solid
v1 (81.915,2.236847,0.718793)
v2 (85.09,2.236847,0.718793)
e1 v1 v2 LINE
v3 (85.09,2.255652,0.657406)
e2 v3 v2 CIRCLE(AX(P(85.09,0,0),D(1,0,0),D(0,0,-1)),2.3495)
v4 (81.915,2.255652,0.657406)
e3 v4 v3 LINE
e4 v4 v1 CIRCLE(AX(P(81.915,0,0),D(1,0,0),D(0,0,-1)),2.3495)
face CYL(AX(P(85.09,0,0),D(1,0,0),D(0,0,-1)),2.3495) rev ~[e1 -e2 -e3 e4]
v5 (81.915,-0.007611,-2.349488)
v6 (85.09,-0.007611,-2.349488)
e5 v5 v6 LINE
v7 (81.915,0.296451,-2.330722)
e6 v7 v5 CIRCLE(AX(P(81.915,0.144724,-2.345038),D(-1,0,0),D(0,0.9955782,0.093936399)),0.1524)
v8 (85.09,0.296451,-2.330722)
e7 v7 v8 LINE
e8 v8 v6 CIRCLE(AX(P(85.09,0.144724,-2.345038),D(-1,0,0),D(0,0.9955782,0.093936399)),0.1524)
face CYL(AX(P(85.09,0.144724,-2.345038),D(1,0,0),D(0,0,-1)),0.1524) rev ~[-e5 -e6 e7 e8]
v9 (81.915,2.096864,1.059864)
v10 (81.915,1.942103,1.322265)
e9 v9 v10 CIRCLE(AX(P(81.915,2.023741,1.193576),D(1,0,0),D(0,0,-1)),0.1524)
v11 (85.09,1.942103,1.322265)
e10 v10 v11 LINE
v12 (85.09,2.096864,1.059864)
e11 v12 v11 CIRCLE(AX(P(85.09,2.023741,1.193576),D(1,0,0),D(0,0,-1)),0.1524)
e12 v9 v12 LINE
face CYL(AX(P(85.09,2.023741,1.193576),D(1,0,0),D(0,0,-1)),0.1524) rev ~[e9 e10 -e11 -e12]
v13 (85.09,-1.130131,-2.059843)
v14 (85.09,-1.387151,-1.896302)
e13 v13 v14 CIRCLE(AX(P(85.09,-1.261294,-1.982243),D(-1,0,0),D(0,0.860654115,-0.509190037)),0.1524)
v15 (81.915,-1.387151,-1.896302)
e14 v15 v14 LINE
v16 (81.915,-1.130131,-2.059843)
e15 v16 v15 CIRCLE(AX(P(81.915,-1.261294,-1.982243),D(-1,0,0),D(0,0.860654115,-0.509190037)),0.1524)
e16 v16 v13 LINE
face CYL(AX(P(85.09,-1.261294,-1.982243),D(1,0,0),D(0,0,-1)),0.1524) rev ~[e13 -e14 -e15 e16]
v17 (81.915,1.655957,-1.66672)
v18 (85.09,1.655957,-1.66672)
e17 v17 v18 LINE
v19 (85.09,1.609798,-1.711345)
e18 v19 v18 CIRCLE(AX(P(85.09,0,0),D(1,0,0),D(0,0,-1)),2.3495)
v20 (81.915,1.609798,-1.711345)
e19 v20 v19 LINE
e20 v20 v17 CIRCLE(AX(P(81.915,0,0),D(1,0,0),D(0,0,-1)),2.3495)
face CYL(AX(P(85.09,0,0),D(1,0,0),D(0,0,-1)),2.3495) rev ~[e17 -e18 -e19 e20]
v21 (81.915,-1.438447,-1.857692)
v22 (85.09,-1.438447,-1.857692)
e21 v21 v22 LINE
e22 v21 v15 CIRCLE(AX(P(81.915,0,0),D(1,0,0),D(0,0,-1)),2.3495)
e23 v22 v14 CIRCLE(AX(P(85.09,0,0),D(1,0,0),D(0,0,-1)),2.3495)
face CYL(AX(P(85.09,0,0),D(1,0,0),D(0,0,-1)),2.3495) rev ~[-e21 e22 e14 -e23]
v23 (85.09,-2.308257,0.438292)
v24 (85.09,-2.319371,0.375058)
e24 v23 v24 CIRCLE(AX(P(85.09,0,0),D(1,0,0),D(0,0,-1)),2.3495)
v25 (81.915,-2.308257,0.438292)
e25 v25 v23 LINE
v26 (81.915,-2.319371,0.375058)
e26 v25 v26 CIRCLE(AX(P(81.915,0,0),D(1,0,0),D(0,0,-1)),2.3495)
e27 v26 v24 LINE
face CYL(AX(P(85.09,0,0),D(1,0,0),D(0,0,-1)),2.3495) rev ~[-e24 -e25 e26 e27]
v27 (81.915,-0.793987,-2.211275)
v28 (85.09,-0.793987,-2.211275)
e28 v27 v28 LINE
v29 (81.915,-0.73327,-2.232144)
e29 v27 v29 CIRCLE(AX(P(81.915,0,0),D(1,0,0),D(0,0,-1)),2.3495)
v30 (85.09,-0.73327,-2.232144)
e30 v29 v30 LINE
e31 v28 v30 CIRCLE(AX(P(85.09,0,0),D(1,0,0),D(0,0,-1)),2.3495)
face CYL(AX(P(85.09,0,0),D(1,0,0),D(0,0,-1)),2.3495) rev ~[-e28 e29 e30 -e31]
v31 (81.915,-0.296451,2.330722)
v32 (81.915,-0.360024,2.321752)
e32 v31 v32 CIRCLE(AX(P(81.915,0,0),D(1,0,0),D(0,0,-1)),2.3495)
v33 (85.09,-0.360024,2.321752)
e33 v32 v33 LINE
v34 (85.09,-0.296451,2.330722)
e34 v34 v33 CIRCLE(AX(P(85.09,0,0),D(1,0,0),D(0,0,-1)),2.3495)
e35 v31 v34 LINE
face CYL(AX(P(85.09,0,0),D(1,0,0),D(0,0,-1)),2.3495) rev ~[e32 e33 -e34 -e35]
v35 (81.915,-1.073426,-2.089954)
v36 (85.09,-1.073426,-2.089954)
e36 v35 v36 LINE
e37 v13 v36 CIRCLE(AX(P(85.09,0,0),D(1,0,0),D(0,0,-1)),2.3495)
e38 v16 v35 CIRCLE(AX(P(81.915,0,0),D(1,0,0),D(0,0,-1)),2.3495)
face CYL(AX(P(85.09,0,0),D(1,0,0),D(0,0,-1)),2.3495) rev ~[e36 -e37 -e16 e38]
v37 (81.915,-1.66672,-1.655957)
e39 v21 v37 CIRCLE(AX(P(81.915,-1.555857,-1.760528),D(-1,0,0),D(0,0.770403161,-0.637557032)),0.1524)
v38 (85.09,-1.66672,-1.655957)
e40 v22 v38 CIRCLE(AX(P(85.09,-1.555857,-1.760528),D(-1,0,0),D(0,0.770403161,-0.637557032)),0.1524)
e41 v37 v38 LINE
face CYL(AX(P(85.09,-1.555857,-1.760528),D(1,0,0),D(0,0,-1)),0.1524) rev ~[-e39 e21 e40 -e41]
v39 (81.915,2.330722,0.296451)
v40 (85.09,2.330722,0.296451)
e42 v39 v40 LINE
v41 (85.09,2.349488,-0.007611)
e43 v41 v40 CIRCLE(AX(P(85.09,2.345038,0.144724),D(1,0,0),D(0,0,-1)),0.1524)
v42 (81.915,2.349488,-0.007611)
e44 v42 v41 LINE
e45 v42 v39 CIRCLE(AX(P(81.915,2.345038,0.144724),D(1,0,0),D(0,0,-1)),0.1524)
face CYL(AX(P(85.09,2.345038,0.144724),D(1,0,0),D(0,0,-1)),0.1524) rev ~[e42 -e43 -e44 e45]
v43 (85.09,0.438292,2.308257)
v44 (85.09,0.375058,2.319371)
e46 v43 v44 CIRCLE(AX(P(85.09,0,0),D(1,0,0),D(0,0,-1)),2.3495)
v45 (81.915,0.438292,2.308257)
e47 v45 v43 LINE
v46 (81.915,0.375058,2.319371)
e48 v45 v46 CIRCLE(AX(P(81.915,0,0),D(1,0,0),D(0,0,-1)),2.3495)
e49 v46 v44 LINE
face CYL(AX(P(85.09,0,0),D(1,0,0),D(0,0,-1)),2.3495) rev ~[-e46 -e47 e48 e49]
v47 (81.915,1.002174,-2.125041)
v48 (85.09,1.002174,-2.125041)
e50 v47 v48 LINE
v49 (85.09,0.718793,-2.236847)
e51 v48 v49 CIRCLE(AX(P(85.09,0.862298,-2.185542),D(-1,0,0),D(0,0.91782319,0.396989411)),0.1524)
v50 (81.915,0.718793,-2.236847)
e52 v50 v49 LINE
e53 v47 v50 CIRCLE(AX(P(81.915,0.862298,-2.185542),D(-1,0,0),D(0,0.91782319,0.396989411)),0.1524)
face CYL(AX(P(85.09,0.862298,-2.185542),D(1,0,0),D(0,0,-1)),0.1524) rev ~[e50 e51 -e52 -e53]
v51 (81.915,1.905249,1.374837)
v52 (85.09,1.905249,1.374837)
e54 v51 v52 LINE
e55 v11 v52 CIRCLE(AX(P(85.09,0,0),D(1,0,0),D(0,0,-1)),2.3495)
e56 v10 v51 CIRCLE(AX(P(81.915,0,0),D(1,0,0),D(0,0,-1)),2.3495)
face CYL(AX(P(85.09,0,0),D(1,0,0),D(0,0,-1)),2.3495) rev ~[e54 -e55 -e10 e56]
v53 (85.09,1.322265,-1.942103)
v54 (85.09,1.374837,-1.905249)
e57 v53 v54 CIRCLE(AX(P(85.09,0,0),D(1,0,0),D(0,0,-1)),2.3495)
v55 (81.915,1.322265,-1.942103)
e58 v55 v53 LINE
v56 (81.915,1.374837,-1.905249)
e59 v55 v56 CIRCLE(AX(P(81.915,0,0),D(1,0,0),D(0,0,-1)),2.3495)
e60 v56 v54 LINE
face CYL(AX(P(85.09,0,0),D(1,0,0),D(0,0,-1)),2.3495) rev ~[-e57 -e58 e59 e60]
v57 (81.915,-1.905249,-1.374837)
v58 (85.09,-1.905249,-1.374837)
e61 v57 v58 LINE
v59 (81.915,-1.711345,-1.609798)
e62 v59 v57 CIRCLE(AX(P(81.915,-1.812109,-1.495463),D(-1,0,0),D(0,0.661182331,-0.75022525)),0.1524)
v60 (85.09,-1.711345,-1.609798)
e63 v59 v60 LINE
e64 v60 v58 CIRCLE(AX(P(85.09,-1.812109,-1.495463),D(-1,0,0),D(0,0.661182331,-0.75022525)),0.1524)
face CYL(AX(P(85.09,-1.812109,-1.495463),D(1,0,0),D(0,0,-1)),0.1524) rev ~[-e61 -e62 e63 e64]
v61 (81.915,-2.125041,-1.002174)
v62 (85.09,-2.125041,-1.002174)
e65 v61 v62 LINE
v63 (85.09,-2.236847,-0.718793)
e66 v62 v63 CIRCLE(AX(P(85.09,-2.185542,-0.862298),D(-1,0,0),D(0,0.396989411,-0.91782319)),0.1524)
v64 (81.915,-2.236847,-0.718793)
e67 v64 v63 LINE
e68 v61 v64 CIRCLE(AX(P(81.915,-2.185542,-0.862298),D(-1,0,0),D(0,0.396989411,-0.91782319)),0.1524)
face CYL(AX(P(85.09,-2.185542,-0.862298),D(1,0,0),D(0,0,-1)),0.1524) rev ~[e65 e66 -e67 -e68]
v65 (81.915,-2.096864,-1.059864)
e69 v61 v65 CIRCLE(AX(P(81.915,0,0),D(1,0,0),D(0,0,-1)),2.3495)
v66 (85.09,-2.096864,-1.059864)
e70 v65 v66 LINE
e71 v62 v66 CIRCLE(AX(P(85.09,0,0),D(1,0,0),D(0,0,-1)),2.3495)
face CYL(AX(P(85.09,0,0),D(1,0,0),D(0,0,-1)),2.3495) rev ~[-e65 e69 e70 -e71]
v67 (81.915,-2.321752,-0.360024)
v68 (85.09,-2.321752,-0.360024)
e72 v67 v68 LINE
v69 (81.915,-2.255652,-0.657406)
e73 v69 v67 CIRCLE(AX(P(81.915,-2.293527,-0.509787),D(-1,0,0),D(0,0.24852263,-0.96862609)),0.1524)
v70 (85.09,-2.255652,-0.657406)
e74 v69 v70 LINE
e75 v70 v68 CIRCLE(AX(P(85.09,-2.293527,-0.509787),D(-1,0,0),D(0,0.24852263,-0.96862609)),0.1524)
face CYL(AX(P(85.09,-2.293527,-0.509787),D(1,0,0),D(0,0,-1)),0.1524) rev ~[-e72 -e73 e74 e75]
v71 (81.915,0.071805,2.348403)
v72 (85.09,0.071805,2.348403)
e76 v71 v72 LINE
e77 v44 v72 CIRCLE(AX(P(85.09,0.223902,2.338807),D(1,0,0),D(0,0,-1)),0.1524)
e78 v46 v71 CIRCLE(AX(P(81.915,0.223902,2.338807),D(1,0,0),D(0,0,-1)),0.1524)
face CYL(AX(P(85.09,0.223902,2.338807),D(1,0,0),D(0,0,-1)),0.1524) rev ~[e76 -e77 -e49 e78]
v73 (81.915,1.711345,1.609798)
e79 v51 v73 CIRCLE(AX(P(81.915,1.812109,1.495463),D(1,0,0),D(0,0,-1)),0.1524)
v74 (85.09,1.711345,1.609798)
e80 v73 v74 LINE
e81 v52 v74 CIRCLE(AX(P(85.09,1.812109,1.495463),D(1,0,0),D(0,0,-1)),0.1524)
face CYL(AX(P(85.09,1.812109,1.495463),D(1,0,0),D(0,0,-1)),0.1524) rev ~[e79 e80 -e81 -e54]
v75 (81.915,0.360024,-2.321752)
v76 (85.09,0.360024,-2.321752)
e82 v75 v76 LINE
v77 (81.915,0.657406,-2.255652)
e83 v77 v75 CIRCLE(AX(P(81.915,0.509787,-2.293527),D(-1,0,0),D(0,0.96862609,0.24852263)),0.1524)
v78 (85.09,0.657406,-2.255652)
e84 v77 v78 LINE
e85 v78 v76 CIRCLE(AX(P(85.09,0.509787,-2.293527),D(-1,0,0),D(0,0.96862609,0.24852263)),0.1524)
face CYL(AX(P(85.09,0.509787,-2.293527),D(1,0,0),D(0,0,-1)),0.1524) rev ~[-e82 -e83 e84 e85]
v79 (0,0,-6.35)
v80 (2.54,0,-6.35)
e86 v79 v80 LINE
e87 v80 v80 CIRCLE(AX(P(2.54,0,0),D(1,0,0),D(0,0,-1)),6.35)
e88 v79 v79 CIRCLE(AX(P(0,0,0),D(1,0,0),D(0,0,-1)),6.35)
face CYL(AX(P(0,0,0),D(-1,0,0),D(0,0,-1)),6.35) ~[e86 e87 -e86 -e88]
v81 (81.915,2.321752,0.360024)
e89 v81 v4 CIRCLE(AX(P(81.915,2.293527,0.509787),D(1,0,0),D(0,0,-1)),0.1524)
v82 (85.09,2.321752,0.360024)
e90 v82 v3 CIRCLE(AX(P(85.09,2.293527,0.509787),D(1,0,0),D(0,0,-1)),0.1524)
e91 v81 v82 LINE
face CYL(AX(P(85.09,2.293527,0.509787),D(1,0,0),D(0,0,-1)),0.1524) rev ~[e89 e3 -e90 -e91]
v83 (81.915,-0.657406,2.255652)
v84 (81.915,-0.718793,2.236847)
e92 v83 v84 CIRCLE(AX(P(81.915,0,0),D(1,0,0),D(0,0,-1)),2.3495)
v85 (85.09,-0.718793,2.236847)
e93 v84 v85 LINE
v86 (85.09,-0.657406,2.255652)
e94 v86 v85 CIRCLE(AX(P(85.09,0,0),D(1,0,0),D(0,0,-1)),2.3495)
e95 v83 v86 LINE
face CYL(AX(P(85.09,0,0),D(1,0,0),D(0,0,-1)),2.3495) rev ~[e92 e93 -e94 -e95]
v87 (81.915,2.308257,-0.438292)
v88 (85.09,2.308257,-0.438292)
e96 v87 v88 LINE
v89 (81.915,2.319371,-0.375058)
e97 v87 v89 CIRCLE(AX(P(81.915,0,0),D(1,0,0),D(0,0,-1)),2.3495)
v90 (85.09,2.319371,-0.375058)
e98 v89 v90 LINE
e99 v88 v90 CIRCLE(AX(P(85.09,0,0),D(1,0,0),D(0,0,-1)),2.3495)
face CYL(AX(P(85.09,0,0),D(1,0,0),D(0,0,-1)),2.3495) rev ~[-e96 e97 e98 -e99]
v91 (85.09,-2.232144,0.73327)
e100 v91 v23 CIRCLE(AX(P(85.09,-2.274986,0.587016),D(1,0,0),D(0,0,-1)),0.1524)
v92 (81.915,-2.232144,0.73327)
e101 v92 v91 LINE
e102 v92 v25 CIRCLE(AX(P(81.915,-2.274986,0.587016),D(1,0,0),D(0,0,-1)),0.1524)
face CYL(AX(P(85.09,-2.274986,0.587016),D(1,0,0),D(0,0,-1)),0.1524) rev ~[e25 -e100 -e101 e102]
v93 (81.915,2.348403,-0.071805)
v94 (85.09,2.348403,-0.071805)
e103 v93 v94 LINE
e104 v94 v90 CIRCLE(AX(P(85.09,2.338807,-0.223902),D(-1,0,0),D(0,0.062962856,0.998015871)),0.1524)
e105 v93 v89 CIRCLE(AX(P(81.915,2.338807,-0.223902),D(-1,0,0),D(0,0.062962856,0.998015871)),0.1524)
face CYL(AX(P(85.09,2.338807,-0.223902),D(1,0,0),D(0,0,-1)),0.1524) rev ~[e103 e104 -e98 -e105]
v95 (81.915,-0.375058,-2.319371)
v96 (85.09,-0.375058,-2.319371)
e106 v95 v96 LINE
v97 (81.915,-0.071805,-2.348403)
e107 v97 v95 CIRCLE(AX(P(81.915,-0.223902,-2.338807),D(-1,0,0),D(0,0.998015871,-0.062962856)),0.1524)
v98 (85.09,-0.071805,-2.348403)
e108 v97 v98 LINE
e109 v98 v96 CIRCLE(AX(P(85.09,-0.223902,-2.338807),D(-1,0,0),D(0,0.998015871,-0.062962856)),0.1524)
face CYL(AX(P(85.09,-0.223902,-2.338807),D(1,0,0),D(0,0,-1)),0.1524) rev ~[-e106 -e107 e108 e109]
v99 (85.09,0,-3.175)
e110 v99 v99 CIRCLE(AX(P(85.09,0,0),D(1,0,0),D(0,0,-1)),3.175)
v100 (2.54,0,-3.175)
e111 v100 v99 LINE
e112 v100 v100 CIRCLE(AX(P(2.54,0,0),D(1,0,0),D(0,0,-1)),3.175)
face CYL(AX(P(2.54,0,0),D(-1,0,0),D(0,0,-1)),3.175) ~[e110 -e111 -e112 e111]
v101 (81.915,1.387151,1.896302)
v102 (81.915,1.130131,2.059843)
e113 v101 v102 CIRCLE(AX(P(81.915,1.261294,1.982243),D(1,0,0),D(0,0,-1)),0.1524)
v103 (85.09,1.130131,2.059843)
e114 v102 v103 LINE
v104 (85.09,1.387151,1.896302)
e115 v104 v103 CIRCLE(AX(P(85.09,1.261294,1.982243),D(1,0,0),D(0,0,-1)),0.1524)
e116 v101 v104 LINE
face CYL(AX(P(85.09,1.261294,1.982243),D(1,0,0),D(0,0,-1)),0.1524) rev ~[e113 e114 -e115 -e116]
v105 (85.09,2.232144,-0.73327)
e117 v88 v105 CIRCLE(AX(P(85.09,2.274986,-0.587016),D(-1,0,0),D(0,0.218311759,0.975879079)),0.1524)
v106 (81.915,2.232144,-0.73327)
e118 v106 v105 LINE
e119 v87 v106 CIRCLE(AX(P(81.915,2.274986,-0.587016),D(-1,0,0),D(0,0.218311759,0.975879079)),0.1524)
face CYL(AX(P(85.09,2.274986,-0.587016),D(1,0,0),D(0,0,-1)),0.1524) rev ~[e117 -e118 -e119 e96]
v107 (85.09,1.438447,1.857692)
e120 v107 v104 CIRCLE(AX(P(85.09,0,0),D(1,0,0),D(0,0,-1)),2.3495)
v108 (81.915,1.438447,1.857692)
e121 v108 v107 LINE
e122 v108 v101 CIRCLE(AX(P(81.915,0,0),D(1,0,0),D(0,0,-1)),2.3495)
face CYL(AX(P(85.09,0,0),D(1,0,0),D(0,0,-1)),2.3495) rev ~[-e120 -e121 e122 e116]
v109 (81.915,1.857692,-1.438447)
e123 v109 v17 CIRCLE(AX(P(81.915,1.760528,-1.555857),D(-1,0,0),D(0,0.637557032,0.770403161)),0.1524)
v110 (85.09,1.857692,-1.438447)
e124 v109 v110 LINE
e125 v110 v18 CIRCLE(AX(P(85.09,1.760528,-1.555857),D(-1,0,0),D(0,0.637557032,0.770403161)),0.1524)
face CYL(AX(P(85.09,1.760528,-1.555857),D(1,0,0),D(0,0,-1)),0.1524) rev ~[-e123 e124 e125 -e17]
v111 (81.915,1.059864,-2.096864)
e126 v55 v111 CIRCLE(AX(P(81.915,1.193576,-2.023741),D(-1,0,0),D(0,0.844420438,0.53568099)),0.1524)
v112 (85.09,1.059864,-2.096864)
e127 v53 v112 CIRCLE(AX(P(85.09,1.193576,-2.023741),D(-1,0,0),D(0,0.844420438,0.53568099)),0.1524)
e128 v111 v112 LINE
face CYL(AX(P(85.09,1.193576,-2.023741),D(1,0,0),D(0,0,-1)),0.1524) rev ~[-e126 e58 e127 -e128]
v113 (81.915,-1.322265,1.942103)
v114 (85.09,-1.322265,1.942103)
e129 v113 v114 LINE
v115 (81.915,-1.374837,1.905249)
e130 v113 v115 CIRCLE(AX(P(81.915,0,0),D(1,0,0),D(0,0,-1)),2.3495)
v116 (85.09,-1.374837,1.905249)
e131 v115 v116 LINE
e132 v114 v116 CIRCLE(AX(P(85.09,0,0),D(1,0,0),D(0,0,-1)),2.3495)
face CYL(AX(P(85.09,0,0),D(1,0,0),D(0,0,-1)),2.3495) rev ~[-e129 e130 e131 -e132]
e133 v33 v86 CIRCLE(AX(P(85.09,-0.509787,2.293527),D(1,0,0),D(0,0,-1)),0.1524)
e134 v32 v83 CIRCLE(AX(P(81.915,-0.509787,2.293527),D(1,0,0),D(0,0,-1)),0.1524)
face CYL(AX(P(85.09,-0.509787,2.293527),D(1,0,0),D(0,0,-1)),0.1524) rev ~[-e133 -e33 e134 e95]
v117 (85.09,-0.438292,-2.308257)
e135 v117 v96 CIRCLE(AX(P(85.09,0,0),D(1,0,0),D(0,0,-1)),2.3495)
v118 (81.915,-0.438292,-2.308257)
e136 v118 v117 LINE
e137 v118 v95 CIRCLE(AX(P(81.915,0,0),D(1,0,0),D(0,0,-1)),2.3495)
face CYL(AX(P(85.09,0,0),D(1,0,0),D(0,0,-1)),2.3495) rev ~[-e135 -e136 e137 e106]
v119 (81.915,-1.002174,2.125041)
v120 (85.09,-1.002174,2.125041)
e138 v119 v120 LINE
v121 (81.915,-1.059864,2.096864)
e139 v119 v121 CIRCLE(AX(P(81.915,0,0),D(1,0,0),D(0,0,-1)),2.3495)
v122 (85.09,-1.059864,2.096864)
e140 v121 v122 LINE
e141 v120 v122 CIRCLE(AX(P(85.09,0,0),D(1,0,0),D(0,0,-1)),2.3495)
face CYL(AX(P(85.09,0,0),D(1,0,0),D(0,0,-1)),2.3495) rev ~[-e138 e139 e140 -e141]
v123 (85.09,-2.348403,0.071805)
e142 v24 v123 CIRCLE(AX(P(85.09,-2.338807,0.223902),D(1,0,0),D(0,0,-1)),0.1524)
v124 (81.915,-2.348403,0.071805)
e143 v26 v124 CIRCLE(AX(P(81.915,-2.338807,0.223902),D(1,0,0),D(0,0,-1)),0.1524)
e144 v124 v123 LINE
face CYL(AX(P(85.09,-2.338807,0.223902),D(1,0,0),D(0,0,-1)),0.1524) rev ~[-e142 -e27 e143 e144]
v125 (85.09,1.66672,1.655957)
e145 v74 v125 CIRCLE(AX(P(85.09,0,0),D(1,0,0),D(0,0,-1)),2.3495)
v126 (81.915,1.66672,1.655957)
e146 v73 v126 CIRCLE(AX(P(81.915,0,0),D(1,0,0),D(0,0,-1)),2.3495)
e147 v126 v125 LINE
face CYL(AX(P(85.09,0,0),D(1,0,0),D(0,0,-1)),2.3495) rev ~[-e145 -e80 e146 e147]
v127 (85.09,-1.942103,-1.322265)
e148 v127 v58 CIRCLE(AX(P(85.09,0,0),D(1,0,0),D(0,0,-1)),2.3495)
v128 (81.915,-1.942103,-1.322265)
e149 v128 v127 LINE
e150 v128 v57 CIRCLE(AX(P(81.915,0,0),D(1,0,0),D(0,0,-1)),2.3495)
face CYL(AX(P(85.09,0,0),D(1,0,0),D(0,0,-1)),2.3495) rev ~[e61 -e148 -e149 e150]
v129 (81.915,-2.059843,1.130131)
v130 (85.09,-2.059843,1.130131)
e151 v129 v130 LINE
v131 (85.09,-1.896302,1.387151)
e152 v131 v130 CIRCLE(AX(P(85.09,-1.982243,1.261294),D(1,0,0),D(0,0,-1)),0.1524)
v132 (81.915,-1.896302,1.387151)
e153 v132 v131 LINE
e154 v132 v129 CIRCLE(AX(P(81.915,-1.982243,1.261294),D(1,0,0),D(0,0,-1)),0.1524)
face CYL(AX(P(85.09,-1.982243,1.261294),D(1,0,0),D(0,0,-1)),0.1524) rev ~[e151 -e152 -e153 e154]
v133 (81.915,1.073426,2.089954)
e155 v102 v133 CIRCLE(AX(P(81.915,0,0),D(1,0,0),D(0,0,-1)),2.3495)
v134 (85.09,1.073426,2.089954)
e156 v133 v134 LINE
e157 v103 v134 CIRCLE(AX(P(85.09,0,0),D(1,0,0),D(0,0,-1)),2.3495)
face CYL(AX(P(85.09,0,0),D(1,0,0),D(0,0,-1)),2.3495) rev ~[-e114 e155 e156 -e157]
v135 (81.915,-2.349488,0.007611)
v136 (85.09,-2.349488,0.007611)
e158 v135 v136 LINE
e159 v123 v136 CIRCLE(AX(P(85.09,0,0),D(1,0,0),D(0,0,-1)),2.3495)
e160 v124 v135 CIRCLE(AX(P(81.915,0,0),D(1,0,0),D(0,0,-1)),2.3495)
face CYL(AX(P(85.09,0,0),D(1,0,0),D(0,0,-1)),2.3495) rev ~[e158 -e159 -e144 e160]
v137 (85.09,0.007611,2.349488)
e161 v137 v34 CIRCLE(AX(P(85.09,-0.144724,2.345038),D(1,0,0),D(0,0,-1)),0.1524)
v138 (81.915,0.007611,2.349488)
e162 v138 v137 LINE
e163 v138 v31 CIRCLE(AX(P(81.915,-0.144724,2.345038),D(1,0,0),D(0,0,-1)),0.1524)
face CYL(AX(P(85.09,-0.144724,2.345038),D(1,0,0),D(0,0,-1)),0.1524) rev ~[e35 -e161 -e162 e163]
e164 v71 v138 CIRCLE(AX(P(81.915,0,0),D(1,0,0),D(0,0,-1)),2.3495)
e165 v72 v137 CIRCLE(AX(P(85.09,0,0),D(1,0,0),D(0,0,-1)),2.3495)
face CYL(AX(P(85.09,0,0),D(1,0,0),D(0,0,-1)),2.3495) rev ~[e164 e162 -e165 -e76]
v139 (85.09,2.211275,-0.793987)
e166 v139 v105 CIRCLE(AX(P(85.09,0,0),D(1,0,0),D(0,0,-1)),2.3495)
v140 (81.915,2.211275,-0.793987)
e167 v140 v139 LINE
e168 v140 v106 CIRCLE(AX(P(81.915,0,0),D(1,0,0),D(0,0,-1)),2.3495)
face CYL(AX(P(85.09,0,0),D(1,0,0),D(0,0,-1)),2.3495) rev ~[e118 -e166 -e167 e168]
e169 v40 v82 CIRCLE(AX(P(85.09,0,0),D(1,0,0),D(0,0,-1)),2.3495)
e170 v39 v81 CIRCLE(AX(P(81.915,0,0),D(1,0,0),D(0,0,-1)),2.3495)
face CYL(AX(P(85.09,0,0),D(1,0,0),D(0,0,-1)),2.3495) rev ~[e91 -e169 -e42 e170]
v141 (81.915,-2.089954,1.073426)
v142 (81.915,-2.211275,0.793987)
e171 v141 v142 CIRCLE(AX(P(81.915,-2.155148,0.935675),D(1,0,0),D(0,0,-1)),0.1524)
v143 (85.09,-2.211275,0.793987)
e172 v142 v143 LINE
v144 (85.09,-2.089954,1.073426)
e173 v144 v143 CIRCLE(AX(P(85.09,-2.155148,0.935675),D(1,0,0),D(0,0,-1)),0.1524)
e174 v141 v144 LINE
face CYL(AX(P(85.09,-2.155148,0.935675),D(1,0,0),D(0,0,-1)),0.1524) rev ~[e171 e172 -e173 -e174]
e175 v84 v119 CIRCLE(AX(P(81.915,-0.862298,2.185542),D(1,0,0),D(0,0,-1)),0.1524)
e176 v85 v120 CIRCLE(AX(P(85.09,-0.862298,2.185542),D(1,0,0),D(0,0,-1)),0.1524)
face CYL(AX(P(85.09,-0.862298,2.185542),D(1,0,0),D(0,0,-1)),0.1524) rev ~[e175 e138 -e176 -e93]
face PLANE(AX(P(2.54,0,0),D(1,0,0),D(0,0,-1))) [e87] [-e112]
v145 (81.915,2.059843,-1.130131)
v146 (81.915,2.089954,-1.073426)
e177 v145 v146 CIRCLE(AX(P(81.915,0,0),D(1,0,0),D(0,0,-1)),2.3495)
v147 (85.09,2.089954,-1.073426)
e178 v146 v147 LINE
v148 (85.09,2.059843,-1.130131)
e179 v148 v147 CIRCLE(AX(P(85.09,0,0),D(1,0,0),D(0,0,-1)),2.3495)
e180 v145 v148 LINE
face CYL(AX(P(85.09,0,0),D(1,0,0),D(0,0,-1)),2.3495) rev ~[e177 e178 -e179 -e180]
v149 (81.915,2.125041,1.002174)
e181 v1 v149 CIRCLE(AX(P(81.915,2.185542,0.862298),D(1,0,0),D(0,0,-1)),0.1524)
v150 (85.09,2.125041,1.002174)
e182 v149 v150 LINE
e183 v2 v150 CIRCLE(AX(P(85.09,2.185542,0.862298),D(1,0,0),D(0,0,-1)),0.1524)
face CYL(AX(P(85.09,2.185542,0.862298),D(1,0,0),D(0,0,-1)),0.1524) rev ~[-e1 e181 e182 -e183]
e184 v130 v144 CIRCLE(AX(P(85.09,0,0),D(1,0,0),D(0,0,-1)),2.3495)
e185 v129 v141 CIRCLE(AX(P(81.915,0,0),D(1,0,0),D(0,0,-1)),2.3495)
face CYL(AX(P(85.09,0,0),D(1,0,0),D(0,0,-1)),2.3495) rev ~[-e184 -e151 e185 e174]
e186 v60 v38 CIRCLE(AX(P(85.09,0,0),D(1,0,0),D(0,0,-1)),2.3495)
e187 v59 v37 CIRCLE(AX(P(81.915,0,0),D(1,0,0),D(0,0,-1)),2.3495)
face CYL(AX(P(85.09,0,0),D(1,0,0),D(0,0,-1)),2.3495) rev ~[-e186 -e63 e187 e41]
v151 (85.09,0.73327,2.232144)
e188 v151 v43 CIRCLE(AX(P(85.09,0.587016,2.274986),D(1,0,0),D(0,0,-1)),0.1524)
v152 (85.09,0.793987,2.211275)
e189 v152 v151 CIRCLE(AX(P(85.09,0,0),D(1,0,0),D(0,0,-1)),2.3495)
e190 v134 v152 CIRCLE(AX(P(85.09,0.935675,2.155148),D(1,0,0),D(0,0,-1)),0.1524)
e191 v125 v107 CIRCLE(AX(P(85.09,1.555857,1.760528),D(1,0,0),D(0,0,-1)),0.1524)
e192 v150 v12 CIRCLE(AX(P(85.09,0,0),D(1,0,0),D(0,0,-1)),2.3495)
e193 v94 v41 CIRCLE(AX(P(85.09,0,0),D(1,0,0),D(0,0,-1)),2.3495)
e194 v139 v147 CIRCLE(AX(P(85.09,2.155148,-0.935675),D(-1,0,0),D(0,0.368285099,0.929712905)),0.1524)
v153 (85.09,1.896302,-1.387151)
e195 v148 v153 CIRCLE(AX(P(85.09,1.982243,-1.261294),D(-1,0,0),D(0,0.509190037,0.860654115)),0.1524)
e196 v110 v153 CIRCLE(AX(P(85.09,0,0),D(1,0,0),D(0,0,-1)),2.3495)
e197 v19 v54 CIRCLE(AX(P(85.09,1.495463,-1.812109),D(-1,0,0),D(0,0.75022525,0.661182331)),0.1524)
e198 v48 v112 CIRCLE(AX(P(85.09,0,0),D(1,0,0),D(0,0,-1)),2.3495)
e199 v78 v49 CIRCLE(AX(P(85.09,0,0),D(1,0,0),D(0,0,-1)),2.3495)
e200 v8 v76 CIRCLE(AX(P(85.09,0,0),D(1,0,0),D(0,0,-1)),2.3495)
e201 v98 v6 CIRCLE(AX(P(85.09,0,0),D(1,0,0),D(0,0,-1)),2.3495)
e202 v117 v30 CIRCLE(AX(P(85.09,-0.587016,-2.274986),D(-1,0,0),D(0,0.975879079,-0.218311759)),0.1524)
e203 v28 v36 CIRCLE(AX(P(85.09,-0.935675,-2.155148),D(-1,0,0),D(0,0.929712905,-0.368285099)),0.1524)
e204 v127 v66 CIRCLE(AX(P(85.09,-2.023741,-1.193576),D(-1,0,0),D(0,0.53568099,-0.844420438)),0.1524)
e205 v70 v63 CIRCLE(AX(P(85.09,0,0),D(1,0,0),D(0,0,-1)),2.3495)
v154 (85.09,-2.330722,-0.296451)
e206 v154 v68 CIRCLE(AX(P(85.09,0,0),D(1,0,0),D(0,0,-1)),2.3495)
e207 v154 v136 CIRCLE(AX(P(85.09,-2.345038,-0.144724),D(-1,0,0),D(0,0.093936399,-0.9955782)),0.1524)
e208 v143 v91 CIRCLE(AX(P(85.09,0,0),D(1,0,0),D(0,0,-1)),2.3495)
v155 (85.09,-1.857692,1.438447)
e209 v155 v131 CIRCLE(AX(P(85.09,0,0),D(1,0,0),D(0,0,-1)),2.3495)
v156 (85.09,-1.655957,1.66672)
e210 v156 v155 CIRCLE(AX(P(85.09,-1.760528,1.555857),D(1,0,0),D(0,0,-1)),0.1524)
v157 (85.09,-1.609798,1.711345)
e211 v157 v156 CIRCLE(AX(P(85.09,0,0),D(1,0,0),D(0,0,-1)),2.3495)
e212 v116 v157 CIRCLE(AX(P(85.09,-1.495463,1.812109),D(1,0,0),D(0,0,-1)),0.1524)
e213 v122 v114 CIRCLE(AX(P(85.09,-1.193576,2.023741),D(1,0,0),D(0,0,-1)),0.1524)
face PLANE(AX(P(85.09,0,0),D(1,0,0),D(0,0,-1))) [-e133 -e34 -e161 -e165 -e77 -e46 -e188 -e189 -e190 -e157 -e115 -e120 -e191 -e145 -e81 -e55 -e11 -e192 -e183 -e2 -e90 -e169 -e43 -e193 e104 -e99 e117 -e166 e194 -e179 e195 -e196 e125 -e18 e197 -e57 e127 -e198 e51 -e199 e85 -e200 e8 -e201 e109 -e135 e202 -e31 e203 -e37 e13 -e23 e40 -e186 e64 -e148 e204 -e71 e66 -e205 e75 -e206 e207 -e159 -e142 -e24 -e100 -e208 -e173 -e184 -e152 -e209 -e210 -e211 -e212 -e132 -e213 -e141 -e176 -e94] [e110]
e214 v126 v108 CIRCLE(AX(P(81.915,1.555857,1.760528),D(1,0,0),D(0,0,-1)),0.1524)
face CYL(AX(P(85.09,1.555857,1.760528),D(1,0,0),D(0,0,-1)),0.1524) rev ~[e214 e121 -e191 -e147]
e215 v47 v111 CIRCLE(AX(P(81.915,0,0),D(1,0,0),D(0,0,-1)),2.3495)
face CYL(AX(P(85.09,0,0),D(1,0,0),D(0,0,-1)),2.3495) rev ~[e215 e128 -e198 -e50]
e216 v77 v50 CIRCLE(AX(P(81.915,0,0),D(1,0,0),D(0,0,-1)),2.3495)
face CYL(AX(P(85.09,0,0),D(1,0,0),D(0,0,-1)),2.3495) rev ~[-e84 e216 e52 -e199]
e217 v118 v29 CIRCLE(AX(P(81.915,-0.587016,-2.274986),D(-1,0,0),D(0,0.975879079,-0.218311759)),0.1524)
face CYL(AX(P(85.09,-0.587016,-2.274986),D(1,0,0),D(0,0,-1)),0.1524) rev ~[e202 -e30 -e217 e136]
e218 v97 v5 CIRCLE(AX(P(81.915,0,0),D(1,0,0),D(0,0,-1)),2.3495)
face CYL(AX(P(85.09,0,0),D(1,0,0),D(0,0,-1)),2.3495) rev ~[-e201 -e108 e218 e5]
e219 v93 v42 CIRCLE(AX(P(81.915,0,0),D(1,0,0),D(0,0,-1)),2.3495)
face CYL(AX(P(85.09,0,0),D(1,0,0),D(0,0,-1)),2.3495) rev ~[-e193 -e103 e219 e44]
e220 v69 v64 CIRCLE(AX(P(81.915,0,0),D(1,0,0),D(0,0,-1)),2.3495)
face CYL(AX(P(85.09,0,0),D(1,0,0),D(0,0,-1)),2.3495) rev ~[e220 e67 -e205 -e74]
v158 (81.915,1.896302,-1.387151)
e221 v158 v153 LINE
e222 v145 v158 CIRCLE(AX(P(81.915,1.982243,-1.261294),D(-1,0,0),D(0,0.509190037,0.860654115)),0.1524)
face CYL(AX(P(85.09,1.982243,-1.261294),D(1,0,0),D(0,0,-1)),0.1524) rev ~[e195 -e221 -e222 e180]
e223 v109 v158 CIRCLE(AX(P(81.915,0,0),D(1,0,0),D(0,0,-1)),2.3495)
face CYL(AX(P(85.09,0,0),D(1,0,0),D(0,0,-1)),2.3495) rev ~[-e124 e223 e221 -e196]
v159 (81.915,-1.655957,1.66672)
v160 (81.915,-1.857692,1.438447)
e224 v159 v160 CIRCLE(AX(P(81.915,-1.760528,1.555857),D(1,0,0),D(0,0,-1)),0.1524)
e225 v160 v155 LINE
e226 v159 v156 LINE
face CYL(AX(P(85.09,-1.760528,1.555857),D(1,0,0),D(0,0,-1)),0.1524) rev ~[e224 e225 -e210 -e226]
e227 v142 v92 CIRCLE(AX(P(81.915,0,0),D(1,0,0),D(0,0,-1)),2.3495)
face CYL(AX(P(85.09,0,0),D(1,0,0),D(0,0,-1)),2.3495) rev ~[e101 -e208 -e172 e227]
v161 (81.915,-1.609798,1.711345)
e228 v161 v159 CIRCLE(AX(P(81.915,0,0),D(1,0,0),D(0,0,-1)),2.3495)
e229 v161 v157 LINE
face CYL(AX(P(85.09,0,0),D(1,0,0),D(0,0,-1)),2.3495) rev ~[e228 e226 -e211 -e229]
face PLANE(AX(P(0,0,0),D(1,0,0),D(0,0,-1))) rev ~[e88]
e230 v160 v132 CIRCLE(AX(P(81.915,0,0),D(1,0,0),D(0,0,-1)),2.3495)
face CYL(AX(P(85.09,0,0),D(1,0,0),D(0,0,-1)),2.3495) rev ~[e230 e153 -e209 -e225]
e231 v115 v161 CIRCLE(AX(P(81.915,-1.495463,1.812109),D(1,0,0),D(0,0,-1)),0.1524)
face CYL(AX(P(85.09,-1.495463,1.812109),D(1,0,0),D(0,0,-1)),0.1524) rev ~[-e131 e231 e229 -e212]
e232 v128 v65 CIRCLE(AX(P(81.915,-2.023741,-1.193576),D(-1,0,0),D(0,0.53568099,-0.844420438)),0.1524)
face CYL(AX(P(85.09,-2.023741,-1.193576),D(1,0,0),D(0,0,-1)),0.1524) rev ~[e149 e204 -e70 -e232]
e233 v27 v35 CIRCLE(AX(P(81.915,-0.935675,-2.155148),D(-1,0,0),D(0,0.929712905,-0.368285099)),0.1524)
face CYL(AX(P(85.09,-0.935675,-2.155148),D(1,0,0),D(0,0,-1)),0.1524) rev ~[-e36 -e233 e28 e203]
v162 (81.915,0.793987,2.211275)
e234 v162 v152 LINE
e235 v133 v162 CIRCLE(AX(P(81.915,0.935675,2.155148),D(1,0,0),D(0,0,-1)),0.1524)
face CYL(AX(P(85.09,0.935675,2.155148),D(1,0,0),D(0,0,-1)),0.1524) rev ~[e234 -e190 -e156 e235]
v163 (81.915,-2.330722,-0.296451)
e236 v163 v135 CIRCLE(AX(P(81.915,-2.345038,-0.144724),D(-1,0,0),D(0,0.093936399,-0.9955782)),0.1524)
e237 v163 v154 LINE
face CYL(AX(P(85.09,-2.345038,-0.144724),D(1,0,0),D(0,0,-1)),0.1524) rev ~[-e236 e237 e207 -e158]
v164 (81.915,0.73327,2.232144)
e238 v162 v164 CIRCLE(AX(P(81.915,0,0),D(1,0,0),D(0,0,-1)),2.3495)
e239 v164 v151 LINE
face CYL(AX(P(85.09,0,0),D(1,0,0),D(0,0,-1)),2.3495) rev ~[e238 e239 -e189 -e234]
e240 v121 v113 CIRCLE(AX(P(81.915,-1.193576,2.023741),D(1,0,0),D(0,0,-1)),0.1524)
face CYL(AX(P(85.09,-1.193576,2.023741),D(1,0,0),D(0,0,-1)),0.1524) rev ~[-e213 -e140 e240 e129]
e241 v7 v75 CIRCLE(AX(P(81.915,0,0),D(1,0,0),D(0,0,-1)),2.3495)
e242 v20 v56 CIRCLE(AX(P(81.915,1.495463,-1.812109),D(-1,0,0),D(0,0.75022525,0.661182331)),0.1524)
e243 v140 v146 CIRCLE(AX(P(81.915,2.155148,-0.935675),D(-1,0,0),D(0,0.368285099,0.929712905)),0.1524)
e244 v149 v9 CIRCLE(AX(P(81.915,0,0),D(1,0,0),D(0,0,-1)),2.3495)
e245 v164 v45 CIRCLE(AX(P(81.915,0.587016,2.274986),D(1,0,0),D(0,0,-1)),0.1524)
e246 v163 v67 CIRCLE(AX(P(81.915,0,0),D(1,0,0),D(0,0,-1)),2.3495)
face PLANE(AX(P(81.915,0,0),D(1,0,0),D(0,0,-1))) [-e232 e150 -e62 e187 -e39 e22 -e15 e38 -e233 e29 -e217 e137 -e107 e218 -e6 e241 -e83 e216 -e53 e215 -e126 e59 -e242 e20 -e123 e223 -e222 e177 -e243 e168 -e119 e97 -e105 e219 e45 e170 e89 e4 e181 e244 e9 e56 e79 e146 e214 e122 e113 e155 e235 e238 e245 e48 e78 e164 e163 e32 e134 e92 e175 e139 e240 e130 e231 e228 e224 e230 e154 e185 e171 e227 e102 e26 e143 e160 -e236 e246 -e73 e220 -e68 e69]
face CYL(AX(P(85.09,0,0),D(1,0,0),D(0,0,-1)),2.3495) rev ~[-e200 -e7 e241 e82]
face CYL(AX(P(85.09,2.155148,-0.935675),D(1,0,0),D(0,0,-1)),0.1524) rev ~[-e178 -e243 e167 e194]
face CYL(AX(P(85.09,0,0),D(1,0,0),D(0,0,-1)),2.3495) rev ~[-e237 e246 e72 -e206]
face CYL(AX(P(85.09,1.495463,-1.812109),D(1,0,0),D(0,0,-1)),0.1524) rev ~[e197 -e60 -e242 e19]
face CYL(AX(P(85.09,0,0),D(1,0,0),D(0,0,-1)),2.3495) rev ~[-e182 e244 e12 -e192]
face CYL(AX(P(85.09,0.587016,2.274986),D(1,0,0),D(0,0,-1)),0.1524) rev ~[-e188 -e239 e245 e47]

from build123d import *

# Parameters (mm, degrees)
SKETCH1_R           = 6.35
BOSS_EXTRUDE1_DEPTH = 2.54
SKETCH2_R           = 3.175
BOSS_EXTRUDE2_DEPTH = 82.55
SKETCH3_R           = 2.3495
CUT_EXTRUDE1_DEPTH  = 3.175
SKETCH4_R           = 0.1524
CUT_EXTRUDE2_DEPTH  = 3.175


with BuildPart() as part:
    # Sketch1 → Boss-Extrude1 (new body)
    with BuildSketch(Plane(origin=(0, 0, 0), x_dir=(0, 0, -1), z_dir=(1, 0, 0))):
        Circle(SKETCH1_R)
    extrude(amount=BOSS_EXTRUDE1_DEPTH)

    # Sketch2 → Boss-Extrude2 (add)
    with BuildSketch(Plane(origin=(2.54, 0, 0), x_dir=(0, 0, -1), z_dir=(1, 0, 0))):
        Circle(SKETCH2_R)
    extrude(amount=BOSS_EXTRUDE2_DEPTH)

    # Sketch3 → Cut-Extrude1 (cut)
    with BuildSketch(Plane(origin=(85.09, 0, 0), x_dir=(0, 0, -1), z_dir=(1, 0, 0))):
        Circle(SKETCH3_R)
    extrude(amount=-CUT_EXTRUDE1_DEPTH, mode=Mode.SUBTRACT)

    # Sketch4 → Cut-Extrude2 (cut)
    with BuildSketch(Plane(origin=(85.09, 0, 0), x_dir=(0, 0, -1), z_dir=(1, 0, 0))):
        with Locations((1.261294478, 1.982242793)):
            Circle(SKETCH4_R)
        with Locations((1.555856941, 1.760528167)):
            Circle(SKETCH4_R)
        with Locations((1.812109043, 1.495463496)):
            Circle(SKETCH4_R)
        with Locations((2.023741005, 1.19357555)):
            Circle(SKETCH4_R)
        with Locations((2.185541748, 0.862297813)):
            Circle(SKETCH4_R)
        with Locations((2.293527199, 0.509787442)):
            Circle(SKETCH4_R)
        with Locations((2.345038399, 0.144724412)):
            Circle(SKETCH4_R)
        with Locations((2.338806971, -0.223902213)):
            Circle(SKETCH4_R)
        with Locations((2.274986353, -0.587015623)):
            Circle(SKETCH4_R)
        with Locations((2.155148021, -0.93567476)):
            Circle(SKETCH4_R)
        with Locations((1.982242793, -1.261294478)):
            Circle(SKETCH4_R)
        with Locations((1.760528167, -1.555856941)):
            Circle(SKETCH4_R)
        with Locations((1.495463496, -1.812109043)):
            Circle(SKETCH4_R)
        with Locations((1.19357555, -2.023741005)):
            Circle(SKETCH4_R)
        with Locations((0.862297813, -2.185541748)):
            Circle(SKETCH4_R)
        with Locations((0.509787442, -2.293527199)):
            Circle(SKETCH4_R)
        with Locations((0.144724412, -2.345038399)):
            Circle(SKETCH4_R)
        with Locations((-0.223902213, -2.338806971)):
            Circle(SKETCH4_R)
        with Locations((-0.587015623, -2.274986353)):
            Circle(SKETCH4_R)
        with Locations((-0.93567476, -2.155148021)):
            Circle(SKETCH4_R)
        with Locations((-1.261294478, -1.982242793)):
            Circle(SKETCH4_R)
        with Locations((-1.555856941, -1.760528167)):
            Circle(SKETCH4_R)
        with Locations((-1.812109043, -1.495463496)):
            Circle(SKETCH4_R)
        with Locations((-2.023741005, -1.19357555)):
            Circle(SKETCH4_R)
        with Locations((-2.185541748, -0.862297813)):
            Circle(SKETCH4_R)
        with Locations((-2.293527199, -0.509787442)):
            Circle(SKETCH4_R)
        with Locations((-2.345038399, -0.144724412)):
            Circle(SKETCH4_R)
        with Locations((-2.338806971, 0.223902213)):
            Circle(SKETCH4_R)
        with Locations((-2.274986353, 0.587015623)):
            Circle(SKETCH4_R)
        with Locations((-2.155148021, 0.93567476)):
            Circle(SKETCH4_R)
        with Locations((-1.982242793, 1.261294478)):
            Circle(SKETCH4_R)
        with Locations((-1.760528167, 1.555856941)):
            Circle(SKETCH4_R)
        with Locations((-1.495463496, 1.812109043)):
            Circle(SKETCH4_R)
        with Locations((-1.19357555, 2.023741005)):
            Circle(SKETCH4_R)
        with Locations((-0.862297813, 2.185541748)):
            Circle(SKETCH4_R)
        with Locations((-0.509787442, 2.293527199)):
            Circle(SKETCH4_R)
        with Locations((-0.144724412, 2.345038399)):
            Circle(SKETCH4_R)
        with Locations((0.223902213, 2.338806971)):
            Circle(SKETCH4_R)
        with Locations((0.587015623, 2.274986353)):
            Circle(SKETCH4_R)
        with Locations((0.93567476, 2.155148021)):
            Circle(SKETCH4_R)
    extrude(amount=-CUT_EXTRUDE2_DEPTH, mode=Mode.SUBTRACT)


solid = part.part
